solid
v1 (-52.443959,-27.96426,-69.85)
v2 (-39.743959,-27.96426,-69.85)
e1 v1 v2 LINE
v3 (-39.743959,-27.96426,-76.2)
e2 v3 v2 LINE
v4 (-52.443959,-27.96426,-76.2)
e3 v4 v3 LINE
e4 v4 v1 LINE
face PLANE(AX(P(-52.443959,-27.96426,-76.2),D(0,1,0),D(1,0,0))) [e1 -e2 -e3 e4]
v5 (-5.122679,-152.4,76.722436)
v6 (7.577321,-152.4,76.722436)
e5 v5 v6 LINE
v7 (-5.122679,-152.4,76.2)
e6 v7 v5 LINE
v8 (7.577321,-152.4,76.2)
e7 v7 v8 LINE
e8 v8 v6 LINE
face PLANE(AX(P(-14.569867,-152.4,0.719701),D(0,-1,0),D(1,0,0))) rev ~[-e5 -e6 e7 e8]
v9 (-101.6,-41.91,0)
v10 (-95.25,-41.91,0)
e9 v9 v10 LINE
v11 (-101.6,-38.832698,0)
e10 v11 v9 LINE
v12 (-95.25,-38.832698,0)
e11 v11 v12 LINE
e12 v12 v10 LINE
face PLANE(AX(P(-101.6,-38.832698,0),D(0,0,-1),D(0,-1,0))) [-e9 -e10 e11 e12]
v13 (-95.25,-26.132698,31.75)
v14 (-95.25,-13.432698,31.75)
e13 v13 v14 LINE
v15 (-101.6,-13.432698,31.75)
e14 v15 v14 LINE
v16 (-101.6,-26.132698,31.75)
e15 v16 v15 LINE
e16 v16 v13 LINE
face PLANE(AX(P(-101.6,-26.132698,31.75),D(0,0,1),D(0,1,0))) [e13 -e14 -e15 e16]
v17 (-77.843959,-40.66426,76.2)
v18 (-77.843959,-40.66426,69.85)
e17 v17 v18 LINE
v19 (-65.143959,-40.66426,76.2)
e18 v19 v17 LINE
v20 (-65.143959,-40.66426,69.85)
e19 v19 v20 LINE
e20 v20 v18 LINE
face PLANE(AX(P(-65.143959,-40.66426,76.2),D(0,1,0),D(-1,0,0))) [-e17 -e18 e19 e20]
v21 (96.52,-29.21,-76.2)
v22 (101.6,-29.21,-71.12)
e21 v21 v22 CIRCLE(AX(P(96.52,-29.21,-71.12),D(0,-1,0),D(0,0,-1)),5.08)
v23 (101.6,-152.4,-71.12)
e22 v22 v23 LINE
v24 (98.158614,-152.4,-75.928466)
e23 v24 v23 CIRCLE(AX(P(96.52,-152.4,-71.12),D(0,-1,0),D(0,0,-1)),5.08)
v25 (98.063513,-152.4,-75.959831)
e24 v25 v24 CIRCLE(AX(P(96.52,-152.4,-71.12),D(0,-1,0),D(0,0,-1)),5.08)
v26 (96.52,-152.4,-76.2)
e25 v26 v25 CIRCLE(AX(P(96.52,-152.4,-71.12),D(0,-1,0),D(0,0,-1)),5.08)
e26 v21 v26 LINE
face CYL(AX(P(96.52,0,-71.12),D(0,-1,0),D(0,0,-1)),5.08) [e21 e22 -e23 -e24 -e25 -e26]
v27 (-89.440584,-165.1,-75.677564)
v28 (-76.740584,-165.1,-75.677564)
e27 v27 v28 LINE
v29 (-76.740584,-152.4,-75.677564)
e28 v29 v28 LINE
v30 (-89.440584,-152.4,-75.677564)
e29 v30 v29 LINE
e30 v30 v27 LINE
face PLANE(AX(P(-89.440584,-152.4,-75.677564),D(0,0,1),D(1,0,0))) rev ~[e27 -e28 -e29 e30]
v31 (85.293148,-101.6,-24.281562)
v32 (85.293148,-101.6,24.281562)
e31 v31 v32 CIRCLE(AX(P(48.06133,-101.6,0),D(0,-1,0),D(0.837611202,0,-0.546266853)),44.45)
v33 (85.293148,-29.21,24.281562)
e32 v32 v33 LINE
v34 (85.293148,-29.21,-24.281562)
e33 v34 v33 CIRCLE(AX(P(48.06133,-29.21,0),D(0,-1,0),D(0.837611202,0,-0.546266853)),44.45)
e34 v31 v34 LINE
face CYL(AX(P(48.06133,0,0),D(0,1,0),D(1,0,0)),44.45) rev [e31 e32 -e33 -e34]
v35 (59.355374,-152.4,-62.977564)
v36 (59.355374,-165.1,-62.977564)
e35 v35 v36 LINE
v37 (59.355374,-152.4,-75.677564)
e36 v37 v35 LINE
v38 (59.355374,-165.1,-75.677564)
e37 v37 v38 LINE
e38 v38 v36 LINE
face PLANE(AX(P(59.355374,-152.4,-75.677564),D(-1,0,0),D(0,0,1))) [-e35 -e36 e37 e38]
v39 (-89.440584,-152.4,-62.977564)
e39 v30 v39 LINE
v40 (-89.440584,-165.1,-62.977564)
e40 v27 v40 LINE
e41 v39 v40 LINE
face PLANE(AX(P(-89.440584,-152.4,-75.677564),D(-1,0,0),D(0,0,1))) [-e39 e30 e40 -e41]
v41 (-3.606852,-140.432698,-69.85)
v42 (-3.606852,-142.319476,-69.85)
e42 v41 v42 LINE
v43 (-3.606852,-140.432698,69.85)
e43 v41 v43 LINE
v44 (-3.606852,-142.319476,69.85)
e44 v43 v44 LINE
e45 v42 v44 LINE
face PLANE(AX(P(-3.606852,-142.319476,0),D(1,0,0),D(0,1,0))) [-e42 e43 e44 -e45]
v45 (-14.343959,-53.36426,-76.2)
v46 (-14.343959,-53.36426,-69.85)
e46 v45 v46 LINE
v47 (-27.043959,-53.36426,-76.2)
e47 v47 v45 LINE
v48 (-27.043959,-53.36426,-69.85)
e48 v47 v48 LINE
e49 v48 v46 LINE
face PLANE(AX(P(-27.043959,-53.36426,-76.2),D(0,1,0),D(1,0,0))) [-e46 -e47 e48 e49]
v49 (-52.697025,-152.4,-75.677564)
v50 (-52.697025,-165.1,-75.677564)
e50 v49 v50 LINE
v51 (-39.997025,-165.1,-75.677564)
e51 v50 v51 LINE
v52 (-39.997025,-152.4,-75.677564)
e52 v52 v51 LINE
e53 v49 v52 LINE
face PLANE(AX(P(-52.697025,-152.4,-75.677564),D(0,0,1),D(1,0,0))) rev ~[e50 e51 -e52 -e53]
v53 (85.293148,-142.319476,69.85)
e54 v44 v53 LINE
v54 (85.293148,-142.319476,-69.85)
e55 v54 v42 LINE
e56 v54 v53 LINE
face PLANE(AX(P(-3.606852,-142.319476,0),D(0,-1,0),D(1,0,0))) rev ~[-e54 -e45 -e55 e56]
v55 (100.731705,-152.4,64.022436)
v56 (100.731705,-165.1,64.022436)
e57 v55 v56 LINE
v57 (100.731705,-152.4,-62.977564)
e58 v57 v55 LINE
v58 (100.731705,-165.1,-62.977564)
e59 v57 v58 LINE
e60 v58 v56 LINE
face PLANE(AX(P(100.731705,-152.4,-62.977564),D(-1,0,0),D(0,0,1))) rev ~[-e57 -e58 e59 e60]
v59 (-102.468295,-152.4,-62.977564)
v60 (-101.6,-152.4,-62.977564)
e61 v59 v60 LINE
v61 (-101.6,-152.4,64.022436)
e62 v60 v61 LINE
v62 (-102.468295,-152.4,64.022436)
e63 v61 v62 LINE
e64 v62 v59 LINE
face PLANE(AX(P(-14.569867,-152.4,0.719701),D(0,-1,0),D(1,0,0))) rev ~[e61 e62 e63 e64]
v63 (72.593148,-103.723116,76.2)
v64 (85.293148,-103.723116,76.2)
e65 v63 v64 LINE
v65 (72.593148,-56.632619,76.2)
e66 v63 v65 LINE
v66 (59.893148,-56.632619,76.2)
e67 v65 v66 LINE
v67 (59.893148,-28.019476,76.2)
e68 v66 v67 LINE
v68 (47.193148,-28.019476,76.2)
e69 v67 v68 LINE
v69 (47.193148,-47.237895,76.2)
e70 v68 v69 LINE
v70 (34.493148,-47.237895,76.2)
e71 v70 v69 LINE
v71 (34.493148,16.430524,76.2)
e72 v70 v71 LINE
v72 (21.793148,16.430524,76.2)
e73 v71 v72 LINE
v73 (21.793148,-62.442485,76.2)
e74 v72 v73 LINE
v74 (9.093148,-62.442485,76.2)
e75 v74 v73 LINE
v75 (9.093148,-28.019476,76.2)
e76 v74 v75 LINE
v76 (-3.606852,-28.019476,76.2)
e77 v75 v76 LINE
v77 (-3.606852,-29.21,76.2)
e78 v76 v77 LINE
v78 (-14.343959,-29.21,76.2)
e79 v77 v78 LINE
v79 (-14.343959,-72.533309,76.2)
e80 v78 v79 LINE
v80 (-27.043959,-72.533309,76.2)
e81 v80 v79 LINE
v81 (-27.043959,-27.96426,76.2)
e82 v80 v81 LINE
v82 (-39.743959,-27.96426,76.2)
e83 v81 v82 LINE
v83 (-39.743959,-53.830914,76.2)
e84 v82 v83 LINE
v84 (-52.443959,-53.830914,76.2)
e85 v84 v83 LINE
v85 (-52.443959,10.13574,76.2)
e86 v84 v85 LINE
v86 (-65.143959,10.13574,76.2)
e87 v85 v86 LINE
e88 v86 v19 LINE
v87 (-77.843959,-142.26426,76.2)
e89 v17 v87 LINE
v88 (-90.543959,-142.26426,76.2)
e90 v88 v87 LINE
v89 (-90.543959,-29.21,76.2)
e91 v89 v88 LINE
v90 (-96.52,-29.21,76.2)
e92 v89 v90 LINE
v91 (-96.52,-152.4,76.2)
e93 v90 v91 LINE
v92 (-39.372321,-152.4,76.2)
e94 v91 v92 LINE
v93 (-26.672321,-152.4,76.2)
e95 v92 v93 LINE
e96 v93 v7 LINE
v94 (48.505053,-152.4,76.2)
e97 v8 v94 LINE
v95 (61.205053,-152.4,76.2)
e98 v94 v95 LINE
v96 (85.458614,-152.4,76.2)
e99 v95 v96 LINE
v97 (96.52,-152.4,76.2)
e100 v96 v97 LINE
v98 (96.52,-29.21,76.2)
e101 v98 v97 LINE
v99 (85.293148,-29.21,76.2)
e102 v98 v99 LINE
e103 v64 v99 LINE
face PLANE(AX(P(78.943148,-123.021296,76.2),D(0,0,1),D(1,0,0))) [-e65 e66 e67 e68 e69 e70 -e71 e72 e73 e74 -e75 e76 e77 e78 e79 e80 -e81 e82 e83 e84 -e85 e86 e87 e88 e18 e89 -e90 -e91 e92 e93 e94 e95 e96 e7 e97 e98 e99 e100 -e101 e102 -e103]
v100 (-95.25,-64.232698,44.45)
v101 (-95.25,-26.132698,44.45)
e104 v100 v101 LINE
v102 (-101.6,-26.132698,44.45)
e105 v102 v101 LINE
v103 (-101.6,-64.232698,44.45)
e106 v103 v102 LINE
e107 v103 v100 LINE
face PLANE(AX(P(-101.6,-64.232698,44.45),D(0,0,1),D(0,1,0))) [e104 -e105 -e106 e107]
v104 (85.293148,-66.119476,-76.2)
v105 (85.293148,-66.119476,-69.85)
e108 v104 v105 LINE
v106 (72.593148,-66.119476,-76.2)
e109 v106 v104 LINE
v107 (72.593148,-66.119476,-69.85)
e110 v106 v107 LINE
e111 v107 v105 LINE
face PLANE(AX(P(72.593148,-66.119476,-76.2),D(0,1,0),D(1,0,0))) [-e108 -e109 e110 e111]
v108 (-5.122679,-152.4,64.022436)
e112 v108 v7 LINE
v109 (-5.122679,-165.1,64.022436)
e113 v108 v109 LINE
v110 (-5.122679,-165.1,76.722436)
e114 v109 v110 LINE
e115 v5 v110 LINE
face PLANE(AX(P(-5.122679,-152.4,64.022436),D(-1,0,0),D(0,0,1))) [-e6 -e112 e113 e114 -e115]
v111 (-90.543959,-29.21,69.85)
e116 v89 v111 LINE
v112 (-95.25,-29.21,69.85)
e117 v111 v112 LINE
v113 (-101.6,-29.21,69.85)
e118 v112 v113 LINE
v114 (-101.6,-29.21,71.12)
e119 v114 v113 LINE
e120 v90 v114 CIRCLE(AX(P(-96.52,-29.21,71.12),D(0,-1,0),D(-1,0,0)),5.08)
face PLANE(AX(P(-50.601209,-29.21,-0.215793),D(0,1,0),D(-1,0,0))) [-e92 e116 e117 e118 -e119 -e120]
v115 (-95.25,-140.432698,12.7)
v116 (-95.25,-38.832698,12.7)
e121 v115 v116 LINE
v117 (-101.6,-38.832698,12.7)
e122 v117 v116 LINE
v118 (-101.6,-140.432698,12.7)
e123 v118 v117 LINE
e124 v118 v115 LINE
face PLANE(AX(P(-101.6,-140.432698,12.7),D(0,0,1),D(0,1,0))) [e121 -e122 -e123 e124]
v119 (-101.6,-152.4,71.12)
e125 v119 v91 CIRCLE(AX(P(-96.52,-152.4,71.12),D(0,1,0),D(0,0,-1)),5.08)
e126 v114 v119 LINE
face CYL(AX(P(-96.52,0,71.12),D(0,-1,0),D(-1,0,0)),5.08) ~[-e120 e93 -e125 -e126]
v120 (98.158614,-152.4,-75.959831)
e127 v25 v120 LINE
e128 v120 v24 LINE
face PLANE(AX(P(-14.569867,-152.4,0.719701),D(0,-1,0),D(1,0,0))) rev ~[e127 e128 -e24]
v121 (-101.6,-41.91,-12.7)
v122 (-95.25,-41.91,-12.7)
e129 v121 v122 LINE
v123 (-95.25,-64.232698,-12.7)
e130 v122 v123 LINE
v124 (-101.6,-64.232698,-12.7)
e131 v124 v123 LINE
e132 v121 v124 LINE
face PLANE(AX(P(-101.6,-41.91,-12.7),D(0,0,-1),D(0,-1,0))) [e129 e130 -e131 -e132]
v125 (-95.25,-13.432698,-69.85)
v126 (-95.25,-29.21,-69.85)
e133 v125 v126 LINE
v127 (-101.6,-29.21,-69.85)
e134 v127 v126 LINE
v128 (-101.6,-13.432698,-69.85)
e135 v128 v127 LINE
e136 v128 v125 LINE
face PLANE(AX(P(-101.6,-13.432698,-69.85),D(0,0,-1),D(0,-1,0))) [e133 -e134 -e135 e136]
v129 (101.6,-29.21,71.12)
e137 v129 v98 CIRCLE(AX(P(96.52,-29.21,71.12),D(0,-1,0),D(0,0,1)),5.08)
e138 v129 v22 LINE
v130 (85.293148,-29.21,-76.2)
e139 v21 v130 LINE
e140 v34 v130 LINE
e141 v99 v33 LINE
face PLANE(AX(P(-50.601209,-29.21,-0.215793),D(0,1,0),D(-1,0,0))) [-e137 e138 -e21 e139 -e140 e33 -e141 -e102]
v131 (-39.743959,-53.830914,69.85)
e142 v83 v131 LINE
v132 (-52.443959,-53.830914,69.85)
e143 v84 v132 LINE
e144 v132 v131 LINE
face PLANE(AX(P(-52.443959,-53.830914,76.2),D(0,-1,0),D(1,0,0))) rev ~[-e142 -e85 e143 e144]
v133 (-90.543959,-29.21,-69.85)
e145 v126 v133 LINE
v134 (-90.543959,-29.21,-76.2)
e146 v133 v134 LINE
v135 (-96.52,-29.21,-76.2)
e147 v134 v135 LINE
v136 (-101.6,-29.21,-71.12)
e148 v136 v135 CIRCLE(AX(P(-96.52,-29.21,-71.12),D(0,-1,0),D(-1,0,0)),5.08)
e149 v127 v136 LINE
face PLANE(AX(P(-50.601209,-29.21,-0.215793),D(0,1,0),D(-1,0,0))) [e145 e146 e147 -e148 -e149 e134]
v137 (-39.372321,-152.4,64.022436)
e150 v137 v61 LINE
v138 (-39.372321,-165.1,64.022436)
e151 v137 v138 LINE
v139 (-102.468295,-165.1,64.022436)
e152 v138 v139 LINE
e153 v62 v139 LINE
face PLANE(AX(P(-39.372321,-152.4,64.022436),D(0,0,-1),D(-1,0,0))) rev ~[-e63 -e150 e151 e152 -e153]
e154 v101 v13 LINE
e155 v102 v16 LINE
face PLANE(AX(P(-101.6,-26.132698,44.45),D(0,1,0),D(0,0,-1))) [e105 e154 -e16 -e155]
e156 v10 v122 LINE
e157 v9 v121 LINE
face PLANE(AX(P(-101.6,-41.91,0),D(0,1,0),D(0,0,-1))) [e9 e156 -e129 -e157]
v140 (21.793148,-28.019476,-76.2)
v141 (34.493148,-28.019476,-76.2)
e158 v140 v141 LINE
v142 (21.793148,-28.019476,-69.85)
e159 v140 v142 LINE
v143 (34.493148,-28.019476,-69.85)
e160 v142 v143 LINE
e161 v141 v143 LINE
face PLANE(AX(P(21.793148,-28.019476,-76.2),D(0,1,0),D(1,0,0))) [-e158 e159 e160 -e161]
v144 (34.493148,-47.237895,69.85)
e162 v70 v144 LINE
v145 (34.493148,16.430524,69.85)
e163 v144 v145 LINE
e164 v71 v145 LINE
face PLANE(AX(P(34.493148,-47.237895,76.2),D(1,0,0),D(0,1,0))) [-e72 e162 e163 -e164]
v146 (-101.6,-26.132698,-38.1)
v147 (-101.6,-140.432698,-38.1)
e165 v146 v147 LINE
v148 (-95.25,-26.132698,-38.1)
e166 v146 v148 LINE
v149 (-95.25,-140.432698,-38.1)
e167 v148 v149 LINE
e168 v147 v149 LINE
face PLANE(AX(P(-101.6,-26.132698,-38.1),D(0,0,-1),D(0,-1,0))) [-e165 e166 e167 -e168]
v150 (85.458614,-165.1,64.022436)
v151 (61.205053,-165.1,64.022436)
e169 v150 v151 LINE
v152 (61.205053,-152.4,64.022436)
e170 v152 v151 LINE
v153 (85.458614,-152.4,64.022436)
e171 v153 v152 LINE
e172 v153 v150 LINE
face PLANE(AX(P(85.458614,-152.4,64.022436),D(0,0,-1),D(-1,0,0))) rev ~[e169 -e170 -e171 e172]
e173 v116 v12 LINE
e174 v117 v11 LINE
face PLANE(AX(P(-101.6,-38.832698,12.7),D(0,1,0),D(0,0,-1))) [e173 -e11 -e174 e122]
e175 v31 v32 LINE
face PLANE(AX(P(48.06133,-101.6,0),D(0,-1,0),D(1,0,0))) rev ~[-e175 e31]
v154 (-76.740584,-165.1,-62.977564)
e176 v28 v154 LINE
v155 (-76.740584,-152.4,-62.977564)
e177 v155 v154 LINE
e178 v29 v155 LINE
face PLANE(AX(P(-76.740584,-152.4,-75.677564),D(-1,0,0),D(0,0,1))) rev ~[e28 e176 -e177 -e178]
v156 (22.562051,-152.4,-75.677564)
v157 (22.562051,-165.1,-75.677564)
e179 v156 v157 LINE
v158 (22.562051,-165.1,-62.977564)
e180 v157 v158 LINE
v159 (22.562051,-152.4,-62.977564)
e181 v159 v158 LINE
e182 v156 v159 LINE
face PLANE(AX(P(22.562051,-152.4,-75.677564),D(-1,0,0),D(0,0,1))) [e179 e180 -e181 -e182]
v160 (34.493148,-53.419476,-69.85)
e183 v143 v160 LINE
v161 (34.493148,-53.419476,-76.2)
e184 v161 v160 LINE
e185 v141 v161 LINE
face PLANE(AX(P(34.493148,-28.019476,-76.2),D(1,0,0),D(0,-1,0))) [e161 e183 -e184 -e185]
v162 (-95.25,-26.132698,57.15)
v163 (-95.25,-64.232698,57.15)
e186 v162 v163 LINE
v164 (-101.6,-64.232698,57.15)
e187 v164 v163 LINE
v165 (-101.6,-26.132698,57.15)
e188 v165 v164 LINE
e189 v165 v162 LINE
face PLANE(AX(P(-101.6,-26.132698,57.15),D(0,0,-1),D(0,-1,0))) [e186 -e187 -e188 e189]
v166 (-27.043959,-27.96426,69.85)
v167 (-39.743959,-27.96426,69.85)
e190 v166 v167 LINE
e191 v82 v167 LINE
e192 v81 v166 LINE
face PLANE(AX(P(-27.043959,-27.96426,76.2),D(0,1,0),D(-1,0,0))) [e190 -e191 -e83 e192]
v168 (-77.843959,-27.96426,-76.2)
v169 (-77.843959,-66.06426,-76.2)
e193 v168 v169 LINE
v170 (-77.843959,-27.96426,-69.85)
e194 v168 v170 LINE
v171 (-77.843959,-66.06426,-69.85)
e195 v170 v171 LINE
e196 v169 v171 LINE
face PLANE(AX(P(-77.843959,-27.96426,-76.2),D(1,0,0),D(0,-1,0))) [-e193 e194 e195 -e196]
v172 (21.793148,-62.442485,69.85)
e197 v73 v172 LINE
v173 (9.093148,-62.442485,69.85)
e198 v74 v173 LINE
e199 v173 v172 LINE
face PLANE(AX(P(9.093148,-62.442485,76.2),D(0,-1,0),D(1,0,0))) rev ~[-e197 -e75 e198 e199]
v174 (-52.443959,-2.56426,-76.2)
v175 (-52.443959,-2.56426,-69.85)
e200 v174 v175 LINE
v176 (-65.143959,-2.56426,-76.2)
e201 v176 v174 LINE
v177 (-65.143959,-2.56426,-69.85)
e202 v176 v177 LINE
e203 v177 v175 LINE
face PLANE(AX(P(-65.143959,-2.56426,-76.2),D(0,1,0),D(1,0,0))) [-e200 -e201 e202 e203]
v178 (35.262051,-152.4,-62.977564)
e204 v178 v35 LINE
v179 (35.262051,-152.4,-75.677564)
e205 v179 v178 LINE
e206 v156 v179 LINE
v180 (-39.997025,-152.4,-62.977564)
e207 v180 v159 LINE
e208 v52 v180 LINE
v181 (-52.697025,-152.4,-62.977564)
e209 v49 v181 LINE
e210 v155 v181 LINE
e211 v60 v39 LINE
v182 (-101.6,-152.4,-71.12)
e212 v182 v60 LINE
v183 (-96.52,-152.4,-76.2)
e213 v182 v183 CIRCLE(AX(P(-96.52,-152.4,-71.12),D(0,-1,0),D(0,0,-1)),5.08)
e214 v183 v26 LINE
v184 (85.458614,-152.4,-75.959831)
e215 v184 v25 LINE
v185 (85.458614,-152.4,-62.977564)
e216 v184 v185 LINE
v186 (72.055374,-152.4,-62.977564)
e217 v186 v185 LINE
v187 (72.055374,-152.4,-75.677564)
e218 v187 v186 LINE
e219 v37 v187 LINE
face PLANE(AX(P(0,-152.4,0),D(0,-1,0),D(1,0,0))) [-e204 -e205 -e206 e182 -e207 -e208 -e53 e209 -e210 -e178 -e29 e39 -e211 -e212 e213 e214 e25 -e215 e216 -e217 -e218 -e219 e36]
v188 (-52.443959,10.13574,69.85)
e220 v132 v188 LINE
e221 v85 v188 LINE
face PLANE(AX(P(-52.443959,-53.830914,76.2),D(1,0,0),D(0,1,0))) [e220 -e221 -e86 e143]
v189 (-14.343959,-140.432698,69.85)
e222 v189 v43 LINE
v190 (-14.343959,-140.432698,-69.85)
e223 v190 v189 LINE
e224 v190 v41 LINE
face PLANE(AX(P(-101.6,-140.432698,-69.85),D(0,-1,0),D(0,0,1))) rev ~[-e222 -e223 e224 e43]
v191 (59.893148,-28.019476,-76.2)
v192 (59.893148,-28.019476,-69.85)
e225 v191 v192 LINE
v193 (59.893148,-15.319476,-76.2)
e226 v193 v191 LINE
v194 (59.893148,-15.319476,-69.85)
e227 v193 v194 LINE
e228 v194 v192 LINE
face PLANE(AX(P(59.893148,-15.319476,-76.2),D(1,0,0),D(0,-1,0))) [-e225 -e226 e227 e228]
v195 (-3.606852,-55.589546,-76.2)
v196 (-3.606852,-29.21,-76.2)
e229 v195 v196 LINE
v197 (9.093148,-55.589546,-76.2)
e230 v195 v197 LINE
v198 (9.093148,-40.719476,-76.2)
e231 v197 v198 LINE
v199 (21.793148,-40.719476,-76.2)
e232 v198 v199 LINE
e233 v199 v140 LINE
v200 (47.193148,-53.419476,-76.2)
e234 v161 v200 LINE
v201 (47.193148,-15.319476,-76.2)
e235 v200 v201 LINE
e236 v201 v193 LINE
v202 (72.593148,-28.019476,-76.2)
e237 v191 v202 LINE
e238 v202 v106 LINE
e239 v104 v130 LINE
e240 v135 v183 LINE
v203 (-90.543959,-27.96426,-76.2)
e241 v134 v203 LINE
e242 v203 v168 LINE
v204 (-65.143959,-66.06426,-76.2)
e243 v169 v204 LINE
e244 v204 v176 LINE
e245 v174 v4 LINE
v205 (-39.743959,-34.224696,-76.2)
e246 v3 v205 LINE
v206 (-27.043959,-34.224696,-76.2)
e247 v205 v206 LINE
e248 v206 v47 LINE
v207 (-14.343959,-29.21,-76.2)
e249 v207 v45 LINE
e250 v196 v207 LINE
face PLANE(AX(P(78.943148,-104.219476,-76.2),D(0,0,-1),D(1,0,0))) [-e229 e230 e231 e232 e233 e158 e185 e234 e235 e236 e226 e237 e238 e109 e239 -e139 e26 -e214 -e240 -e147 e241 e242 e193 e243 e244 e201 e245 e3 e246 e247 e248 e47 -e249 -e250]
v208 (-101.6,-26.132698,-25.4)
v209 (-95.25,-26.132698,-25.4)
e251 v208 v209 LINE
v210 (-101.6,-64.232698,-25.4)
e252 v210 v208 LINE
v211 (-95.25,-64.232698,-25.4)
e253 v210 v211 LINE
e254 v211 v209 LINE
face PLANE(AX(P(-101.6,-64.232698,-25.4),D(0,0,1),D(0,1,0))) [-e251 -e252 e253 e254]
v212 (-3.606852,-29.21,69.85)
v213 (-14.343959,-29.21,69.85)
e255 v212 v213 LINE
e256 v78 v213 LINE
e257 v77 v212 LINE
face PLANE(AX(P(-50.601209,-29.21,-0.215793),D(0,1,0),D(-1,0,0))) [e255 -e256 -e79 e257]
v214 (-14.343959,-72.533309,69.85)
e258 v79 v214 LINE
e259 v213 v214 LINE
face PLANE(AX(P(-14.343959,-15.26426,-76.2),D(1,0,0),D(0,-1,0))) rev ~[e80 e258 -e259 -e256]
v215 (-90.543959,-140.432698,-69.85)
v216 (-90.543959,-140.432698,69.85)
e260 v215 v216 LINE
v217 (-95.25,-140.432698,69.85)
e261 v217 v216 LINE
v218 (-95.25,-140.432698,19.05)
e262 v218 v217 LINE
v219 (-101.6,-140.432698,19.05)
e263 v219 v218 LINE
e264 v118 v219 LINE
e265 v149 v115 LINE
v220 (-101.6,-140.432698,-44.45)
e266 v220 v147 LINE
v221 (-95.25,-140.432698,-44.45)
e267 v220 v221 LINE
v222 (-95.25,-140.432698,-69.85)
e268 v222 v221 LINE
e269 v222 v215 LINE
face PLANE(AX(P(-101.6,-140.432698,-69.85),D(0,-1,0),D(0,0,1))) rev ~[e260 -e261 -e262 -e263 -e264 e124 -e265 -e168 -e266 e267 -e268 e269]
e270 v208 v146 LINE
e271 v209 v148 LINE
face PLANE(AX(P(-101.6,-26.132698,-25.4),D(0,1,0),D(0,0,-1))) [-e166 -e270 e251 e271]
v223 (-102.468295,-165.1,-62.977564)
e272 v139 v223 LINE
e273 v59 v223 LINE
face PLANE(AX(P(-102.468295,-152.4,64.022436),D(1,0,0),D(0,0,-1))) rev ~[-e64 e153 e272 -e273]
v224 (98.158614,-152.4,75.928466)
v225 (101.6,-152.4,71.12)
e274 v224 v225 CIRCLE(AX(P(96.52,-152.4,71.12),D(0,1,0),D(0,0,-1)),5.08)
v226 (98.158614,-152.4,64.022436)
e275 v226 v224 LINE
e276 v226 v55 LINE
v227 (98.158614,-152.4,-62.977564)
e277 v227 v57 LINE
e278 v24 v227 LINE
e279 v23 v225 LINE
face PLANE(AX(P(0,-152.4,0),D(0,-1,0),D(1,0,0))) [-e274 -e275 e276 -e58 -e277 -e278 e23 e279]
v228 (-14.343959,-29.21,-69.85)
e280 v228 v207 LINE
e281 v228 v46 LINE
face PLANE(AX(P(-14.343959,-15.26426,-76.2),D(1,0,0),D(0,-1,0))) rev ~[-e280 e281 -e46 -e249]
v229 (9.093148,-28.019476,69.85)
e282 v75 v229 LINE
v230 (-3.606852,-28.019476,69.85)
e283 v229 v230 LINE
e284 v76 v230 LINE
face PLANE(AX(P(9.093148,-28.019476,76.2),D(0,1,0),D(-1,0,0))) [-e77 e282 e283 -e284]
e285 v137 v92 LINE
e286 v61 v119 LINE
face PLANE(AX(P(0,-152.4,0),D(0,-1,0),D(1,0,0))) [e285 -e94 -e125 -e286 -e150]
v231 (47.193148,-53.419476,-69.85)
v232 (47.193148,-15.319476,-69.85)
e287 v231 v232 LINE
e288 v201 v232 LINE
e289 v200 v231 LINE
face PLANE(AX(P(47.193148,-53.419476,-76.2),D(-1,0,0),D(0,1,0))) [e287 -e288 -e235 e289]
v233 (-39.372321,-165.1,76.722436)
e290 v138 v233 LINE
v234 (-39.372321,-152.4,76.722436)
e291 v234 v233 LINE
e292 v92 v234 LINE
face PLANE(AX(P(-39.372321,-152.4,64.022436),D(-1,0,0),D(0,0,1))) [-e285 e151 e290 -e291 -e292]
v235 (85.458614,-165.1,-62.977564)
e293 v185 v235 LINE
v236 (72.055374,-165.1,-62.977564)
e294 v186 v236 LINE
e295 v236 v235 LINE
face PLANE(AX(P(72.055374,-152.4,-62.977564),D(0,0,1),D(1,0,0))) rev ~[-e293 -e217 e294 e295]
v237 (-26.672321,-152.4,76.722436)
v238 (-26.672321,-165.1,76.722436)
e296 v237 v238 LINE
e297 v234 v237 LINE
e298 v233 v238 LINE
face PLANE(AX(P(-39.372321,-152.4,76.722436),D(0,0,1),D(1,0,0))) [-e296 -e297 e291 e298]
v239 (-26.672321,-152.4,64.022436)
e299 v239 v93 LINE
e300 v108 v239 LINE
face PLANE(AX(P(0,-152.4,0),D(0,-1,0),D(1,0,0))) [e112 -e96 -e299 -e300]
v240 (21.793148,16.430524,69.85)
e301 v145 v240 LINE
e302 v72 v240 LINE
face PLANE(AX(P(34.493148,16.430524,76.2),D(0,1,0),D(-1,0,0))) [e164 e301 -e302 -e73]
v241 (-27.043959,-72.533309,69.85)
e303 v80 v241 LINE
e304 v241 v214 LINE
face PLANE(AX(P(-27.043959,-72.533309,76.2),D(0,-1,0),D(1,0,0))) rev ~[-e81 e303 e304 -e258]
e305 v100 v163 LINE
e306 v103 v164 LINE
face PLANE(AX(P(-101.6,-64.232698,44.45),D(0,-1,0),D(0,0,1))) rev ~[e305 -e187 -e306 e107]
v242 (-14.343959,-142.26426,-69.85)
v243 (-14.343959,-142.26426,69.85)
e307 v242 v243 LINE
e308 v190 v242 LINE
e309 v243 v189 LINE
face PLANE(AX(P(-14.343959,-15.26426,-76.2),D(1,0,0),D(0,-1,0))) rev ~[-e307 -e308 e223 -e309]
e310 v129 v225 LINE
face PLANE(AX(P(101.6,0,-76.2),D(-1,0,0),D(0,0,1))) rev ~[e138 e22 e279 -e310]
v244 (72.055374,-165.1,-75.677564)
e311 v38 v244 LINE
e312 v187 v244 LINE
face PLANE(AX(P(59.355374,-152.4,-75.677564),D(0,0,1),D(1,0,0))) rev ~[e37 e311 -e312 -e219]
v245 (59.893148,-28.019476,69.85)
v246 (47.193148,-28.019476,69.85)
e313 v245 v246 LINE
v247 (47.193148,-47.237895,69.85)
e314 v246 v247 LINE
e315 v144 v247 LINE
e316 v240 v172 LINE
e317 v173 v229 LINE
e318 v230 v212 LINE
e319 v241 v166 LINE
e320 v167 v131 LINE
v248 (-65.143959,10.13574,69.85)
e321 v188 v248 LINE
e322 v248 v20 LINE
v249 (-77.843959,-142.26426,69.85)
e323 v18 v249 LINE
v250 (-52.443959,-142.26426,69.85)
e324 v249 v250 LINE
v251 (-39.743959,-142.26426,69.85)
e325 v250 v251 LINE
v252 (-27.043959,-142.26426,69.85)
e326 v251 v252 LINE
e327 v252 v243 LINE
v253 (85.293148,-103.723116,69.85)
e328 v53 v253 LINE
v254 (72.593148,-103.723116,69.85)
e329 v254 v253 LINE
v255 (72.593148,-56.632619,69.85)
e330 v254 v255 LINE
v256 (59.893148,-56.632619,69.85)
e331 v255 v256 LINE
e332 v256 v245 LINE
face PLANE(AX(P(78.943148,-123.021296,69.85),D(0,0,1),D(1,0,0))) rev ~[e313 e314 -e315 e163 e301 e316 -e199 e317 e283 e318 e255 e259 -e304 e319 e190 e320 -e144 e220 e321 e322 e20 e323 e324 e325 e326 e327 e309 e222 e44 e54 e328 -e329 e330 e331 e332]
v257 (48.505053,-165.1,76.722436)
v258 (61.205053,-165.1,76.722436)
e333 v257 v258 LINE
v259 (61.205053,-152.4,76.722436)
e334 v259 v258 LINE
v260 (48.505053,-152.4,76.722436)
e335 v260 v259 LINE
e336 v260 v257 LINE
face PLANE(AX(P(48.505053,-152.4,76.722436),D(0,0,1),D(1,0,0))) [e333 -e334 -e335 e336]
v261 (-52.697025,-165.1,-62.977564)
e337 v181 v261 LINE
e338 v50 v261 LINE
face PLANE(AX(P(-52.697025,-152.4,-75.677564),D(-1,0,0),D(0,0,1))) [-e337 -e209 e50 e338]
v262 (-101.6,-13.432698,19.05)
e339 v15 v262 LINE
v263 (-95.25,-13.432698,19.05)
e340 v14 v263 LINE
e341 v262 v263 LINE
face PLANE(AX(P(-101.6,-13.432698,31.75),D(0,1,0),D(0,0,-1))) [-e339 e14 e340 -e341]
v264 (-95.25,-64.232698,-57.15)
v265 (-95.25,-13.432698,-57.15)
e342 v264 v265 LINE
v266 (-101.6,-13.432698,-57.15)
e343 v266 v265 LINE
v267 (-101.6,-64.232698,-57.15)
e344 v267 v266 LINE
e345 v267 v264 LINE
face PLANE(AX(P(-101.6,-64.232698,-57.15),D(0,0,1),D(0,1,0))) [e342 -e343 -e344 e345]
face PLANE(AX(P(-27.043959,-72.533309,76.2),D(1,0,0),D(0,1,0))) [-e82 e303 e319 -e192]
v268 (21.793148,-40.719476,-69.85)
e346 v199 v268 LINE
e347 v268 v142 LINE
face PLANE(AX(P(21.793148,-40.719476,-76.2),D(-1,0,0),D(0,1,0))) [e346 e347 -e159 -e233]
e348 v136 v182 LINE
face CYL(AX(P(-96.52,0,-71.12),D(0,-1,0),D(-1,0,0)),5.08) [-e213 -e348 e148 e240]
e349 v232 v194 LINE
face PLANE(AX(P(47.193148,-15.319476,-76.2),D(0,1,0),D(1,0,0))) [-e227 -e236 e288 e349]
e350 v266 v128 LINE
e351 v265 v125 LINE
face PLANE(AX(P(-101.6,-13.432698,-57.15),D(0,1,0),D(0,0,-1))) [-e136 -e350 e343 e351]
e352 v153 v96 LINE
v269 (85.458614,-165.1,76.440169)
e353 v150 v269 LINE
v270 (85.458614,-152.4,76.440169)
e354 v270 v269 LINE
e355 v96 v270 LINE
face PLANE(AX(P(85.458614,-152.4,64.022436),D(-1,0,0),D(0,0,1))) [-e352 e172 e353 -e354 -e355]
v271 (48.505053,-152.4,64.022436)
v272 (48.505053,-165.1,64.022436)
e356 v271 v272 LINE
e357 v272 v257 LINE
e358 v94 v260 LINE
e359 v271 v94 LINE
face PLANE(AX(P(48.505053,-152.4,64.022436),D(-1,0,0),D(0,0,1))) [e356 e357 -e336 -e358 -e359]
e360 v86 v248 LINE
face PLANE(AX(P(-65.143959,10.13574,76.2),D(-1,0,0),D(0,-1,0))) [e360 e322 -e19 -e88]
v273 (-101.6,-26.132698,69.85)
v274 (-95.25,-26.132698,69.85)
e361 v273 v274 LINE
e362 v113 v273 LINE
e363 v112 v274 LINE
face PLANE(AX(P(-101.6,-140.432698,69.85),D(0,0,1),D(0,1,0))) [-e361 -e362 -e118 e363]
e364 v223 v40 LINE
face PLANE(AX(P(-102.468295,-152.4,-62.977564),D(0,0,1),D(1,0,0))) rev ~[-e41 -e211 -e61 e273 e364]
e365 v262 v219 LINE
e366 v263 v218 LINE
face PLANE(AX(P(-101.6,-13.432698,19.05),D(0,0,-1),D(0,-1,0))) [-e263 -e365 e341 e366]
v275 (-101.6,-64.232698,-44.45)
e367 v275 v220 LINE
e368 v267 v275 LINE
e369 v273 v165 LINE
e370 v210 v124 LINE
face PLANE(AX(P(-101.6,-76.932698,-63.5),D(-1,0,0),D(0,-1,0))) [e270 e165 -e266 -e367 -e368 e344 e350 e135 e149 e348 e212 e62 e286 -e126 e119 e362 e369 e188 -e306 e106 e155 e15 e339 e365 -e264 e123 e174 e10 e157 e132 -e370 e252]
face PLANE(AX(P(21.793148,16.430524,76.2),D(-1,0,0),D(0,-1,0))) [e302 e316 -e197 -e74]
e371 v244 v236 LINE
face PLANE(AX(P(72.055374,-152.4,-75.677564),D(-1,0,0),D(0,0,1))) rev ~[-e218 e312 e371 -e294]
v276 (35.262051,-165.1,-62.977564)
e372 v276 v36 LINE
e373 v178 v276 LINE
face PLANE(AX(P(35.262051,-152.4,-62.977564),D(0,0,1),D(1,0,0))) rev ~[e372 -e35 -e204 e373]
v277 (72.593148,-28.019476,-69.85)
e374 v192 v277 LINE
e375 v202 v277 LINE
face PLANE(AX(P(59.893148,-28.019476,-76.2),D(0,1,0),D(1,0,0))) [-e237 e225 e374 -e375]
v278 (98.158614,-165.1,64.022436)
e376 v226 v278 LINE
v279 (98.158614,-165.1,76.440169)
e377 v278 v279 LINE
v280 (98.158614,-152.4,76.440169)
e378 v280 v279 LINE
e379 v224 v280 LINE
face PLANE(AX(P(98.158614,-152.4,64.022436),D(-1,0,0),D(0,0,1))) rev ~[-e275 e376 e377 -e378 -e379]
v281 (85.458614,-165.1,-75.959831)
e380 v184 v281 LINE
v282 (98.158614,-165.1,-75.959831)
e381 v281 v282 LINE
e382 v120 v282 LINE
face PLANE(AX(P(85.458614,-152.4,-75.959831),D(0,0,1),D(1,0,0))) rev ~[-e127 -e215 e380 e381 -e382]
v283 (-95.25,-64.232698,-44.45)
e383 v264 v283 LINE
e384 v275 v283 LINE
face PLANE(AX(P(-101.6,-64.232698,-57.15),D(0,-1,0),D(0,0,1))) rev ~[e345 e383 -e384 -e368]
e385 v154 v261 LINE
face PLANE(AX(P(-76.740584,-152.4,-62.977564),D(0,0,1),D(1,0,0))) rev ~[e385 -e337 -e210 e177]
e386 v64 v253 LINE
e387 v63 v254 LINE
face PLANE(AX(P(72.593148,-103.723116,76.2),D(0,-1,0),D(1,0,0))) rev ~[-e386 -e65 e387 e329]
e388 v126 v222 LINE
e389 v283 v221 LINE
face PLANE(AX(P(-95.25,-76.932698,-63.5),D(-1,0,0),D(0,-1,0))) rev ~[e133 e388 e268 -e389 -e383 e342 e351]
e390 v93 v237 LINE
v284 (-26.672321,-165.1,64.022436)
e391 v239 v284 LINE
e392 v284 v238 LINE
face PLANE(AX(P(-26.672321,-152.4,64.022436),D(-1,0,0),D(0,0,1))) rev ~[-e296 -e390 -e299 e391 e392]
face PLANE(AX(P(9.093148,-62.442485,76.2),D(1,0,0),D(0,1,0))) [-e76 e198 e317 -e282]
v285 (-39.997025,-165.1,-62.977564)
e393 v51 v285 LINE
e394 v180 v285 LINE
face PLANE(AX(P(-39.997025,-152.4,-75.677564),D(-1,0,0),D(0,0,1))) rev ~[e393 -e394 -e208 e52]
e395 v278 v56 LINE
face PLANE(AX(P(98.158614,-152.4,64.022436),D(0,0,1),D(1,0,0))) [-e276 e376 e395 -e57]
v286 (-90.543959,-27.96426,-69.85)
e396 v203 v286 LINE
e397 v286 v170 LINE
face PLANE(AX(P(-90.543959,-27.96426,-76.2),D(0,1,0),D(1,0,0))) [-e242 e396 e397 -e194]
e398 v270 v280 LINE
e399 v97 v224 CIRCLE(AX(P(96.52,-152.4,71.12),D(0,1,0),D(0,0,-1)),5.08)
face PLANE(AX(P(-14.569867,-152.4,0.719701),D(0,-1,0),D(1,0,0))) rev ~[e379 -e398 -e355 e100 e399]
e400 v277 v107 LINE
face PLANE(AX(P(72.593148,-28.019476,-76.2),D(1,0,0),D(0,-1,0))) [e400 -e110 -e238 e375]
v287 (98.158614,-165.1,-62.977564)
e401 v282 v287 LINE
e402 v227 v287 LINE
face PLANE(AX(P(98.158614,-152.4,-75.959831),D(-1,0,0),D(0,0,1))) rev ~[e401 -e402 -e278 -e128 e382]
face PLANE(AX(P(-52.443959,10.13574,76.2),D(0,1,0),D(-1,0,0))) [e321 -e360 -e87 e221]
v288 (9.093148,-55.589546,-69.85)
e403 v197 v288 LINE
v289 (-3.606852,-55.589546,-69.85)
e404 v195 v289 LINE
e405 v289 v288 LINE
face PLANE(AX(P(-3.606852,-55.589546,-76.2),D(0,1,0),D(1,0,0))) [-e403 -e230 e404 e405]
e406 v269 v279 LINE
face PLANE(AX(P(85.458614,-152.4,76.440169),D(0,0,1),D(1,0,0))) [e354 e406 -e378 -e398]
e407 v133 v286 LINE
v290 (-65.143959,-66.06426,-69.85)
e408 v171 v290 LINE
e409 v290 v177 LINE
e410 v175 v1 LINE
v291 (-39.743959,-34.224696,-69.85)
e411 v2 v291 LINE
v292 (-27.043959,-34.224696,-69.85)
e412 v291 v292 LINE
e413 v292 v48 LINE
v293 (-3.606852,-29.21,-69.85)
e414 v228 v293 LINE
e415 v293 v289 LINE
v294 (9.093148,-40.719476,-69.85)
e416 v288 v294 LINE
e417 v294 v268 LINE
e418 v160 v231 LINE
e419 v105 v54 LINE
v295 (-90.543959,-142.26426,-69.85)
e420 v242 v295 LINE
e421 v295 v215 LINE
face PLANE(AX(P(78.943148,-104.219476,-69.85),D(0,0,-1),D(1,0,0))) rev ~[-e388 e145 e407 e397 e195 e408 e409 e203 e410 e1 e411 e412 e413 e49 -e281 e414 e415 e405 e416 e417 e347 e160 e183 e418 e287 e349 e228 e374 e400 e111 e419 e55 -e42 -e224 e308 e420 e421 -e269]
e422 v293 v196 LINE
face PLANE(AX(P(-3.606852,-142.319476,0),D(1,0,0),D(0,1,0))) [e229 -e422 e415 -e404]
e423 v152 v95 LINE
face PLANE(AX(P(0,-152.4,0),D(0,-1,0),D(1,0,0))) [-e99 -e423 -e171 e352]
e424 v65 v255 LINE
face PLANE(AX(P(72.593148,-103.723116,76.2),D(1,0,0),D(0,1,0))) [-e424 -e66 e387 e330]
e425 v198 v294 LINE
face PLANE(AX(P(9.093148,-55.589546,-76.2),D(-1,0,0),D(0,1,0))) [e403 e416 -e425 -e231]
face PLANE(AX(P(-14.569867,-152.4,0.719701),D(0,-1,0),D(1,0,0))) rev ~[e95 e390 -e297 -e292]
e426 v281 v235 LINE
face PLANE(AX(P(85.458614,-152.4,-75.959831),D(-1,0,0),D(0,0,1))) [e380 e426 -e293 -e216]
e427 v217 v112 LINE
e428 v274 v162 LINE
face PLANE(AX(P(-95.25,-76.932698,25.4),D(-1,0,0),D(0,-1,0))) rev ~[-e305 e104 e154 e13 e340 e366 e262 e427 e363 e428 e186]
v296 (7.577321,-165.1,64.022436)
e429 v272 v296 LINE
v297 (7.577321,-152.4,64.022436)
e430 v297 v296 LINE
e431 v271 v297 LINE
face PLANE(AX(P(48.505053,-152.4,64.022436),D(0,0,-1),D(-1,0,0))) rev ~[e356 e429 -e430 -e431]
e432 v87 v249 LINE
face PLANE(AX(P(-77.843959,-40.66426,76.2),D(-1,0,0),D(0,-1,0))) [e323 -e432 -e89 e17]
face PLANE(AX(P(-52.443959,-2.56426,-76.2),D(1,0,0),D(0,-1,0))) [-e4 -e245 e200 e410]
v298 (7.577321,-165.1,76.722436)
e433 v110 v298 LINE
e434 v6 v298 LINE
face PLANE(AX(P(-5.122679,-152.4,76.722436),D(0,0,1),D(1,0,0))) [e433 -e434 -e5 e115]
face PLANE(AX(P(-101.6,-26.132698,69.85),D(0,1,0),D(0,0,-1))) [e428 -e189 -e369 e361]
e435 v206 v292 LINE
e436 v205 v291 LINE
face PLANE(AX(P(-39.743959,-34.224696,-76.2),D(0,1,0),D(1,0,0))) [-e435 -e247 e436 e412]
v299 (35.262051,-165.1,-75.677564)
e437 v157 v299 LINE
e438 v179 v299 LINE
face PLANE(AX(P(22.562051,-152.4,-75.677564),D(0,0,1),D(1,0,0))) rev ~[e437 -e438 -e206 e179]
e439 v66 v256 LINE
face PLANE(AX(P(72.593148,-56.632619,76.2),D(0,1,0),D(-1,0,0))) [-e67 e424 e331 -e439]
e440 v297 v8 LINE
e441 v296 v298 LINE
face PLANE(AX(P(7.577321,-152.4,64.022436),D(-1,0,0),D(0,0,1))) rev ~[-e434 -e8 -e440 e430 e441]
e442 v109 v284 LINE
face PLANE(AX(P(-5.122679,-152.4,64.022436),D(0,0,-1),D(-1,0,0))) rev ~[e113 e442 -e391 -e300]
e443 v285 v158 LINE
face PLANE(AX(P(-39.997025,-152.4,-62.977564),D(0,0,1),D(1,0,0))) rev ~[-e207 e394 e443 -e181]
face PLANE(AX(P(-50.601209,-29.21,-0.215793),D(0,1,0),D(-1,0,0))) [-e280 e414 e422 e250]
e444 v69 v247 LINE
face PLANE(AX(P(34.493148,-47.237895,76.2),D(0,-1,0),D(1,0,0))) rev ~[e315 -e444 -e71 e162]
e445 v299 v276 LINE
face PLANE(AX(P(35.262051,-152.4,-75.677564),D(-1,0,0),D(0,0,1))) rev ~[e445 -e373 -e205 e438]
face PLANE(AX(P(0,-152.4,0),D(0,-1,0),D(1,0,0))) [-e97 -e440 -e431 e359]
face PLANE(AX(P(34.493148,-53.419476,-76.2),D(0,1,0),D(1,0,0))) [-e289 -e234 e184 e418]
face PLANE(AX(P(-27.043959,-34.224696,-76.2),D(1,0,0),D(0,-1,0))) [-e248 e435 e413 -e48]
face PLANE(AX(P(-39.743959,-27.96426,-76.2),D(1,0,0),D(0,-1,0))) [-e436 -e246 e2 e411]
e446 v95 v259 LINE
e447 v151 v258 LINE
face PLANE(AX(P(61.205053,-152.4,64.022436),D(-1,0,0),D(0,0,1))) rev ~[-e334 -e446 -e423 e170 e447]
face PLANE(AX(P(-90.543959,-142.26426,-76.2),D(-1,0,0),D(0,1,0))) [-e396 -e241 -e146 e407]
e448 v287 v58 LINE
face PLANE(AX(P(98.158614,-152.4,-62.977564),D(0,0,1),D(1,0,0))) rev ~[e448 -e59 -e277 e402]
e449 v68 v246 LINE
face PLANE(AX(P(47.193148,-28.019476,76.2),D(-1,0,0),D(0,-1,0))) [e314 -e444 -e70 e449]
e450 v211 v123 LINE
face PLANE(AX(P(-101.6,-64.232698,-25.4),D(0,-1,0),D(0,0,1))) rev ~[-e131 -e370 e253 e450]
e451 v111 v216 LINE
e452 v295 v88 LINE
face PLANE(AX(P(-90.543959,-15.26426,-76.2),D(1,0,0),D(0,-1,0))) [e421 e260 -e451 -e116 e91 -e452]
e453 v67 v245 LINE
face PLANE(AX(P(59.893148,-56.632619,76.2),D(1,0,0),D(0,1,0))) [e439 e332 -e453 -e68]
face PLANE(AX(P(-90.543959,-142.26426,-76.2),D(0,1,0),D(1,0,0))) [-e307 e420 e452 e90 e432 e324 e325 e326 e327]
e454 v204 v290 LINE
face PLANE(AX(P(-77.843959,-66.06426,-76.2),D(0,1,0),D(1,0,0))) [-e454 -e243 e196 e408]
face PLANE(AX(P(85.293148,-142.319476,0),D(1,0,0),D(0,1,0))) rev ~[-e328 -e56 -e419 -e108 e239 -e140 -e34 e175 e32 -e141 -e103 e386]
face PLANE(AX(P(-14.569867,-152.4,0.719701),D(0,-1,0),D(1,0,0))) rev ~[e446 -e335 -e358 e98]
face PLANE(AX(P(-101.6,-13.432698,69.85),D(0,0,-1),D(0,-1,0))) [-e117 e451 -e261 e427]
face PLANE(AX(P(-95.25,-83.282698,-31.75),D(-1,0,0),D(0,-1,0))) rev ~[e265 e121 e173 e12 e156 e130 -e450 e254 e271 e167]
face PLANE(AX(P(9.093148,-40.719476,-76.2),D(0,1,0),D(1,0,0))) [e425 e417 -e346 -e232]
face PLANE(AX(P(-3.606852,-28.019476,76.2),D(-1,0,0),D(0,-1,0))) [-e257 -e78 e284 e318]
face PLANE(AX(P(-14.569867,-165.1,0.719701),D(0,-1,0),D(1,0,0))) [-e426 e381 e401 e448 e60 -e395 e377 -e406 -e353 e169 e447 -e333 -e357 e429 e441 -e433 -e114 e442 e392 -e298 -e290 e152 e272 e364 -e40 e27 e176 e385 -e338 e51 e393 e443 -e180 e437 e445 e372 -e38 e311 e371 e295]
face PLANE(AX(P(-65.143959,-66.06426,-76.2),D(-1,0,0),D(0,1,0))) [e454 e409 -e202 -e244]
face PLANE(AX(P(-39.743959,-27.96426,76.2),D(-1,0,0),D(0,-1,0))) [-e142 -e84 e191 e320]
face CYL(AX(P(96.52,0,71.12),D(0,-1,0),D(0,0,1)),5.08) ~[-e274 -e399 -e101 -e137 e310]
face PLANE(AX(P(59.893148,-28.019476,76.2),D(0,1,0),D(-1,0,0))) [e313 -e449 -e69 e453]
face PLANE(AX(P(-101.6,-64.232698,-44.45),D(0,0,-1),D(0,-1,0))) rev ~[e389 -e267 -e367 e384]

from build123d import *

# Parameters (mm, degrees)
F0_W      = 203.2
F0_H      = 152.4
F2_DEPTH  = 152.4
F3_W      = 88.9
F3_H      = 139.7
F4_DEPTH  = 12.7
F5_R      = 6.35
F6_DEPTH  = 127
F1_R      = 44.45
F8_DEPTH  = 101.6
F9_R      = 5.08
F10_W     = 127
F10_H     = 139.7
F11_DEPTH = 101.6
F12_W     = 193.04
F12_H     = 142.24
F12_W_2   = 88.9
F12_H_2   = 139.7
F12_R     = 44.45
F12_R_2   = 6.35
F14_W     = 88.9
F14_H     = 139.7
F14_W_2   = 312.5441968441
F14_H_2   = 209.9168300629
F15_DEPTH = 29.21
F13_W     = 76.2
F13_H     = 127
F16_DEPTH = 152.4
F17_W     = 88.9
F17_H     = 127
F18_DEPTH = 253.619
F19_W     = 12.7
F19_H     = 38.596359849
F19_H_2   = 95.0815806389
F19_H_3   = 79.8769908249
F19_H_4   = 69.7309503555
F19_H_5   = 88.4333456159
F20_DEPTH = 6.35
F21_W     = 76.2
F21_H     = 12.7
F22_DEPTH = 6.35
F23_W     = 12.7
F23_H     = 76.2
F23_H_2   = 86.7299305499
F23_H_3   = 88.9
F24_DEPTH = 6.35
F25_W     = 12.7
F25_H     = 12.7
F25_H_2   = 12.4177324921
F25_H_3   = 127
F25_W_2   = 2.5730909735
F25_H_4   = 12.9822675079
F26_DEPTH = 12.7


with BuildPart() as f2:
    # F0 (on Front) → F2 (new body)
    with BuildSketch(Plane.XZ):
        Rectangle(F0_W, F0_H)
    extrude(amount=F2_DEPTH)

    # F3 (on Front) → F4 (cut)
    with BuildSketch(Plane.XZ):
        with Locations((-50.6012091197, -0.215793407)):
            Rectangle(F3_W, F3_H)
    extrude(amount=F4_DEPTH, mode=Mode.SUBTRACT)

    # F5 (on face) → F6 (cut)
    with BuildSketch(Plane(origin=(0, -12.7, 0), x_dir=(-1, 0, 0), z_dir=(0, 1, 0))):
        with Locations((19.2305770945, 52.8817098261)):
            Circle(F5_R)
        with Locations((19.2305770945, 31.2917098261)):
            Circle(F5_R)
        with Locations((19.2305770945, 9.7017098261)):
            Circle(F5_R)
        with Locations((19.2305770945, -11.8882901739)):
            Circle(F5_R)
        with Locations((19.2305770945, -33.4782901739)):
            Circle(F5_R)
        with Locations((19.2305770945, -55.0682901739)):
            Circle(F5_R)
        with Locations((40.8205770945, 52.8817098261)):
            Circle(F5_R)
        with Locations((40.8205770945, 31.2917098261)):
            Circle(F5_R)
        with Locations((40.8205770945, 9.7017098261)):
            Circle(F5_R)
        with Locations((40.8205770945, -11.8882901739)):
            Circle(F5_R)
        with Locations((40.8205770945, -33.4782901739)):
            Circle(F5_R)
        with Locations((40.8205770945, -55.0682901739)):
            Circle(F5_R)
        with Locations((62.4105770945, 52.8817098261)):
            Circle(F5_R)
        with Locations((62.4105770945, 31.2917098261)):
            Circle(F5_R)
        with Locations((62.4105770945, 9.7017098261)):
            Circle(F5_R)
        with Locations((62.4105770945, -11.8882901739)):
            Circle(F5_R)
        with Locations((62.4105770945, -33.4782901739)):
            Circle(F5_R)
        with Locations((62.4105770945, -55.0682901739)):
            Circle(F5_R)
        with Locations((84.0005770945, 52.8817098261)):
            Circle(F5_R)
        with Locations((84.0005770945, 31.2917098261)):
            Circle(F5_R)
        with Locations((84.0005770945, 9.7017098261)):
            Circle(F5_R)
        with Locations((84.0005770945, -11.8882901739)):
            Circle(F5_R)
        with Locations((84.0005770945, -33.4782901739)):
            Circle(F5_R)
        with Locations((84.0005770945, -55.0682901739)):
            Circle(F5_R)
    extrude(amount=-F6_DEPTH, mode=Mode.SUBTRACT)

    # F1 (on face) → F8 (cut)
    with BuildSketch(Plane.XZ):
        with Locations((48.0613298714, 0)):
            Circle(F1_R)
    extrude(amount=F8_DEPTH, mode=Mode.SUBTRACT)

    # F9
    f9_edges = [f2.edges().sort_by_distance(p)[0] for p in [
        (0, 0, 76.2),
        (101.6, 0, 0),
        (0, 0, -76.2),
        (-101.6, 0, 0),
        (-101.6, -76.2, -76.2),
        (101.6, -76.2, -76.2),
        (101.6, -76.2, 76.2),
        (-101.6, -76.2, 76.2),
    ]]
    fillet(f9_edges, radius=F9_R)

    # F10 (on face) → F11 (cut)
    with BuildSketch(Plane(origin=(-101.6, 0, 0), x_dir=(0, -1, 0), z_dir=(-1, 0, 0))):
        with Locations((76.9326984882, 0)):
            Rectangle(F10_W, F10_H)
    extrude(amount=-F11_DEPTH, mode=Mode.SUBTRACT)

    # F12 (on face) + F14 (on face) → F15 (cut)
    with BuildSketch(Plane(origin=(0, 0, 0), x_dir=(-1, 0, 0), z_dir=(0, 1, 0))):
        Rectangle(F12_W, F12_H)
        with Locations((50.6012091197, -0.215793407)):
            Rectangle(F12_W_2, F12_H_2, mode=Mode.SUBTRACT)
        with Locations((-48.0613298714, 0)):
            Circle(F12_R, mode=Mode.SUBTRACT)
        with Locations((-87.3994901776, 62.0860531926)):
            Circle(F12_R_2, mode=Mode.SUBTRACT)
    with BuildSketch(Plane(origin=(0, 0, 0), x_dir=(-1, 0, 0), z_dir=(0, 1, 0))):
        with Locations((50.6012091197, -0.215793407)):
            Rectangle(F14_W, F14_H)
        Rectangle(F14_W_2, F14_H_2)
    extrude(amount=-F15_DEPTH, mode=Mode.SUBTRACT)

    # F13 (on face) → F16 (cut)
    with BuildSketch(Plane(origin=(0, 0, -76.2), x_dir=(1, 0, 0), z_dir=(0, 0, -1))):
        with Locations((-52.4439588189, 78.7642598152)):
            Rectangle(F13_W, F13_H)
    extrude(amount=-F16_DEPTH, mode=Mode.SUBTRACT)

    # F17 (on Top) → F18 (cut, symmetric)
    with BuildSketch(Plane.XY):
        with Locations((40.8431477845, -78.819476068)):
            Rectangle(F17_W, F17_H)
    extrude(amount=F18_DEPTH, both=True, mode=Mode.SUBTRACT)

    # F19 (on face) → F20 (join)
    with BuildSketch(Plane.XY.offset(76.2)):
        with Locations((78.9431477845, -123.0212961435)):
            Rectangle(F19_W, F19_H)
        Polygon((59.8931477845, -142.319476068), (59.8931477845, -56.6326193511), (59.8931477845, -28.019476068), (47.1931477845, -28.019476068), (47.1931477845, -47.2378954291), (47.1931477845, -142.319476068), align=None)
        Polygon((72.5931477845, -142.319476068), (72.5931477845, -103.723116219), (72.5931477845, -56.6326193511), (59.8931477845, -56.6326193511), (59.8931477845, -142.319476068), align=None)
        with Locations((40.8431477845, -94.7786857486)):
            Rectangle(F19_W, F19_H_2)
        Polygon((21.7931477845, -62.4424852431), (21.7931477845, -142.319476068), (34.4931477845, -142.319476068), (34.4931477845, -47.2378954291), (34.4931477845, 16.430523932), (21.7931477845, 16.430523932), align=None)
        with Locations((15.4431477845, -102.3809806556)):
            Rectangle(F19_W, F19_H_3)
        with Locations((-20.6939588189, -107.3987846375)):
            Rectangle(F19_W, F19_H_4)
        Polygon((-39.7439588189, -53.8309141994), (-39.7439588189, -142.2642598152), (-27.0439588189, -142.2642598152), (-27.0439588189, -72.5333094597), (-27.0439588189, -27.9642598152), (-39.7439588189, -27.9642598152), align=None)
        with Locations((-46.0939588189, -98.0475870073)):
            Rectangle(F19_W, F19_H_5)
        Polygon((-65.1439588189, -40.6642598152), (-65.1439588189, -142.2642598152), (-52.4439588189, -142.2642598152), (-52.4439588189, -53.8309141994), (-52.4439588189, 10.1357401848), (-65.1439588189, 10.1357401848), align=None)
        Polygon((-77.8439588189, -91.4642598152), (-77.8439588189, -142.2642598152), (-65.1439588189, -142.2642598152), (-65.1439588189, -40.6642598152), (-77.8439588189, -40.6642598152), align=None)
        Polygon((-3.6068522155, -28.019476068), (-3.6068522155, -29.21), (-3.6068522155, -142.319476068), (9.0931477845, -142.319476068), (9.0931477845, -62.4424852431), (9.0931477845, -28.019476068), align=None)
    extrude(amount=-F20_DEPTH)

    # F21 (on face) → F22 (join)
    with BuildSketch(Plane(origin=(-101.6, 0, 0), x_dir=(0, -1, 0), z_dir=(-1, 0, 0))):
        Polygon((13.4326984882, -57.15), (13.4326984882, -69.85), (140.4326984882, -69.85), (140.4326984882, -57.15), (64.2326984882, -57.15), align=None)
        with Locations((102.3326984882, -50.8)):
            Rectangle(F21_W, F21_H)
        Polygon((26.1326984882, -25.4), (26.1326984882, -38.1), (140.4326984882, -38.1), (140.4326984882, -25.4), (64.2326984882, -25.4), align=None)
        with Locations((102.3326984882, -19.05)):
            Rectangle(F21_W, F21_H)
        Polygon((64.2326984882, -12.7), (140.4326984882, -12.7), (140.4326984882, 0), (41.91, 0), (41.91, -12.7), align=None)
        Polygon((41.91, 0), (140.4326984882, 0), (140.4326984882, 12.7), (38.8326984882, 12.7), (38.8326984882, 0), align=None)
        Polygon((13.4326984882, 31.75), (13.4326984882, 19.05), (140.4326984882, 19.05), (140.4326984882, 31.75), (26.1326984882, 31.75), align=None)
        Polygon((26.1326984882, 31.75), (140.4326984882, 31.75), (140.4326984882, 44.45), (64.2326984882, 44.45), (26.1326984882, 44.45), align=None)
        with Locations((102.3326984882, 50.8)):
            Rectangle(F21_W, F21_H)
        Polygon((64.2326984882, 57.15), (140.4326984882, 57.15), (140.4326984882, 69.85), (26.1326984882, 69.85), (26.1326984882, 57.15), align=None)
    extrude(amount=-F22_DEPTH)

    # F23 (on face) → F24 (join)
    with BuildSketch(Plane(origin=(0, 0, -76.2), x_dir=(1, 0, 0), z_dir=(0, 0, -1))):
        with Locations((78.9431477845, 104.219476068)):
            Rectangle(F23_W, F23_H)
        with Locations((2.7431477845, 98.9545107931)):
            Rectangle(F23_W, F23_H_2)
        with Locations((-20.6939588189, 97.8142598152)):
            Rectangle(F23_W, F23_H_3)
        Polygon((72.5931477845, 28.019476068), (72.5931477845, 66.119476068), (72.5931477845, 142.319476068), (59.8931477845, 142.319476068), (59.8931477845, 28.019476068), align=None)
        Polygon((59.8931477845, 28.019476068), (59.8931477845, 142.319476068), (47.1931477845, 142.319476068), (47.1931477845, 53.419476068), (47.1931477845, 15.319476068), (59.8931477845, 15.319476068), align=None)
        with Locations((40.8431477845, 97.869476068)):
            Rectangle(F23_W, F23_H_3)
        Polygon((34.4931477845, 53.419476068), (34.4931477845, 142.319476068), (21.7931477845, 142.319476068), (21.7931477845, 40.719476068), (21.7931477845, 28.019476068), (34.4931477845, 28.019476068), align=None)
        Polygon((21.7931477845, 40.719476068), (21.7931477845, 142.319476068), (9.0931477845, 142.319476068), (9.0931477845, 55.5895455182), (9.0931477845, 40.719476068), align=None)
        Polygon((-27.0439588189, 142.2642598152), (-39.7439588189, 142.2642598152), (-39.7439588189, 34.2246964574), (-27.0439588189, 34.2246964574), (-27.0439588189, 53.3642598152), align=None)
        Polygon((-39.7439588189, 142.2642598152), (-52.4439588189, 142.2642598152), (-52.4439588189, 27.9642598152), (-39.7439588189, 27.9642598152), (-39.7439588189, 34.2246964574), align=None)
        Polygon((-52.4439588189, 142.2642598152), (-65.1439588189, 142.2642598152), (-65.1439588189, 66.0642598152), (-65.1439588189, 2.5642598152), (-52.4439588189, 2.5642598152), (-52.4439588189, 27.9642598152), align=None)
        with Locations((-71.4939588189, 104.1642598152)):
            Rectangle(F23_W, F23_H)
        Polygon((-90.5439588189, 142.2642598152), (-90.5439588189, 29.21), (-90.5439588189, 27.9642598152), (-77.8439588189, 27.9642598152), (-77.8439588189, 66.0642598152), (-77.8439588189, 142.2642598152), align=None)
    extrude(amount=-F24_DEPTH)

    # F25 (on face) → F26 (join)
    with BuildSketch(Plane.XZ.offset(152.4)):
        Polygon((85.4586139321, 64.0224360317), (61.2050529242, 64.0224360317), (48.5050529242, 64.0224360317), (7.57732118, 64.0224360317), (-5.12267882, 64.0224360317), (-26.6723212183, 64.0224360317), (-39.3723212183, 64.0224360317), (-102.4682950944, 64.0224360317), (-102.4682950944, 44.3732525826), (-89.7682950944, 44.3732525826), (-89.7682950944, 31.6732525826), (-102.4682950944, 31.6732525826), (-102.4682950944, -25.3421988666), (-89.7682950944, -25.3421988666), (-89.7682950944, -38.0421988666), (-102.4682950944, -38.0421988666), (-102.4682950944, -62.9775639683), (-89.4405841827, -62.9775639683), (-76.7405841827, -62.9775639683), (-52.6970252395, -62.9775639683), (-39.9970252395, -62.9775639683), (22.5620511919, -62.9775639683), (35.2620511919, -62.9775639683), (59.3553744256, -62.9775639683), (72.0553744256, -62.9775639683), (85.4586139321, -62.9775639683), align=None)
        with Locations((54.8550529242, 70.3724360317)):
            Rectangle(F25_W, F25_H)
        with Locations((91.8086139321, 70.2313022777)):
            Rectangle(F25_W, F25_H_2)
        with Locations((91.8086139321, 0.5224360317)):
            Rectangle(F25_W, F25_H_3)
        with Locations((1.22732118, 70.3724360317)):
            Rectangle(F25_W, F25_H)
        with Locations((99.4451594189, 0.5224360317)):
            Rectangle(F25_W_2, F25_H_3)
        with Locations((91.8086139321, -69.4686977223)):
            Rectangle(F25_W, F25_H_4)
        with Locations((65.7053744256, -69.3275639683)):
            Rectangle(F25_W, F25_H)
        with Locations((-33.0223212183, 70.3724360317)):
            Rectangle(F25_W, F25_H)
        with Locations((28.9120511919, -69.3275639683)):
            Rectangle(F25_W, F25_H)
        with Locations((-96.1182950944, 38.0232525826)):
            Rectangle(F25_W, F25_H)
        with Locations((-46.3470252395, -69.3275639683)):
            Rectangle(F25_W, F25_H)
        with Locations((-96.1182950944, -31.6921988666)):
            Rectangle(F25_W, F25_H)
        with Locations((-83.0905841827, -69.3275639683)):
            Rectangle(F25_W, F25_H)
    extrude(amount=F26_DEPTH)


solid = f2.part
